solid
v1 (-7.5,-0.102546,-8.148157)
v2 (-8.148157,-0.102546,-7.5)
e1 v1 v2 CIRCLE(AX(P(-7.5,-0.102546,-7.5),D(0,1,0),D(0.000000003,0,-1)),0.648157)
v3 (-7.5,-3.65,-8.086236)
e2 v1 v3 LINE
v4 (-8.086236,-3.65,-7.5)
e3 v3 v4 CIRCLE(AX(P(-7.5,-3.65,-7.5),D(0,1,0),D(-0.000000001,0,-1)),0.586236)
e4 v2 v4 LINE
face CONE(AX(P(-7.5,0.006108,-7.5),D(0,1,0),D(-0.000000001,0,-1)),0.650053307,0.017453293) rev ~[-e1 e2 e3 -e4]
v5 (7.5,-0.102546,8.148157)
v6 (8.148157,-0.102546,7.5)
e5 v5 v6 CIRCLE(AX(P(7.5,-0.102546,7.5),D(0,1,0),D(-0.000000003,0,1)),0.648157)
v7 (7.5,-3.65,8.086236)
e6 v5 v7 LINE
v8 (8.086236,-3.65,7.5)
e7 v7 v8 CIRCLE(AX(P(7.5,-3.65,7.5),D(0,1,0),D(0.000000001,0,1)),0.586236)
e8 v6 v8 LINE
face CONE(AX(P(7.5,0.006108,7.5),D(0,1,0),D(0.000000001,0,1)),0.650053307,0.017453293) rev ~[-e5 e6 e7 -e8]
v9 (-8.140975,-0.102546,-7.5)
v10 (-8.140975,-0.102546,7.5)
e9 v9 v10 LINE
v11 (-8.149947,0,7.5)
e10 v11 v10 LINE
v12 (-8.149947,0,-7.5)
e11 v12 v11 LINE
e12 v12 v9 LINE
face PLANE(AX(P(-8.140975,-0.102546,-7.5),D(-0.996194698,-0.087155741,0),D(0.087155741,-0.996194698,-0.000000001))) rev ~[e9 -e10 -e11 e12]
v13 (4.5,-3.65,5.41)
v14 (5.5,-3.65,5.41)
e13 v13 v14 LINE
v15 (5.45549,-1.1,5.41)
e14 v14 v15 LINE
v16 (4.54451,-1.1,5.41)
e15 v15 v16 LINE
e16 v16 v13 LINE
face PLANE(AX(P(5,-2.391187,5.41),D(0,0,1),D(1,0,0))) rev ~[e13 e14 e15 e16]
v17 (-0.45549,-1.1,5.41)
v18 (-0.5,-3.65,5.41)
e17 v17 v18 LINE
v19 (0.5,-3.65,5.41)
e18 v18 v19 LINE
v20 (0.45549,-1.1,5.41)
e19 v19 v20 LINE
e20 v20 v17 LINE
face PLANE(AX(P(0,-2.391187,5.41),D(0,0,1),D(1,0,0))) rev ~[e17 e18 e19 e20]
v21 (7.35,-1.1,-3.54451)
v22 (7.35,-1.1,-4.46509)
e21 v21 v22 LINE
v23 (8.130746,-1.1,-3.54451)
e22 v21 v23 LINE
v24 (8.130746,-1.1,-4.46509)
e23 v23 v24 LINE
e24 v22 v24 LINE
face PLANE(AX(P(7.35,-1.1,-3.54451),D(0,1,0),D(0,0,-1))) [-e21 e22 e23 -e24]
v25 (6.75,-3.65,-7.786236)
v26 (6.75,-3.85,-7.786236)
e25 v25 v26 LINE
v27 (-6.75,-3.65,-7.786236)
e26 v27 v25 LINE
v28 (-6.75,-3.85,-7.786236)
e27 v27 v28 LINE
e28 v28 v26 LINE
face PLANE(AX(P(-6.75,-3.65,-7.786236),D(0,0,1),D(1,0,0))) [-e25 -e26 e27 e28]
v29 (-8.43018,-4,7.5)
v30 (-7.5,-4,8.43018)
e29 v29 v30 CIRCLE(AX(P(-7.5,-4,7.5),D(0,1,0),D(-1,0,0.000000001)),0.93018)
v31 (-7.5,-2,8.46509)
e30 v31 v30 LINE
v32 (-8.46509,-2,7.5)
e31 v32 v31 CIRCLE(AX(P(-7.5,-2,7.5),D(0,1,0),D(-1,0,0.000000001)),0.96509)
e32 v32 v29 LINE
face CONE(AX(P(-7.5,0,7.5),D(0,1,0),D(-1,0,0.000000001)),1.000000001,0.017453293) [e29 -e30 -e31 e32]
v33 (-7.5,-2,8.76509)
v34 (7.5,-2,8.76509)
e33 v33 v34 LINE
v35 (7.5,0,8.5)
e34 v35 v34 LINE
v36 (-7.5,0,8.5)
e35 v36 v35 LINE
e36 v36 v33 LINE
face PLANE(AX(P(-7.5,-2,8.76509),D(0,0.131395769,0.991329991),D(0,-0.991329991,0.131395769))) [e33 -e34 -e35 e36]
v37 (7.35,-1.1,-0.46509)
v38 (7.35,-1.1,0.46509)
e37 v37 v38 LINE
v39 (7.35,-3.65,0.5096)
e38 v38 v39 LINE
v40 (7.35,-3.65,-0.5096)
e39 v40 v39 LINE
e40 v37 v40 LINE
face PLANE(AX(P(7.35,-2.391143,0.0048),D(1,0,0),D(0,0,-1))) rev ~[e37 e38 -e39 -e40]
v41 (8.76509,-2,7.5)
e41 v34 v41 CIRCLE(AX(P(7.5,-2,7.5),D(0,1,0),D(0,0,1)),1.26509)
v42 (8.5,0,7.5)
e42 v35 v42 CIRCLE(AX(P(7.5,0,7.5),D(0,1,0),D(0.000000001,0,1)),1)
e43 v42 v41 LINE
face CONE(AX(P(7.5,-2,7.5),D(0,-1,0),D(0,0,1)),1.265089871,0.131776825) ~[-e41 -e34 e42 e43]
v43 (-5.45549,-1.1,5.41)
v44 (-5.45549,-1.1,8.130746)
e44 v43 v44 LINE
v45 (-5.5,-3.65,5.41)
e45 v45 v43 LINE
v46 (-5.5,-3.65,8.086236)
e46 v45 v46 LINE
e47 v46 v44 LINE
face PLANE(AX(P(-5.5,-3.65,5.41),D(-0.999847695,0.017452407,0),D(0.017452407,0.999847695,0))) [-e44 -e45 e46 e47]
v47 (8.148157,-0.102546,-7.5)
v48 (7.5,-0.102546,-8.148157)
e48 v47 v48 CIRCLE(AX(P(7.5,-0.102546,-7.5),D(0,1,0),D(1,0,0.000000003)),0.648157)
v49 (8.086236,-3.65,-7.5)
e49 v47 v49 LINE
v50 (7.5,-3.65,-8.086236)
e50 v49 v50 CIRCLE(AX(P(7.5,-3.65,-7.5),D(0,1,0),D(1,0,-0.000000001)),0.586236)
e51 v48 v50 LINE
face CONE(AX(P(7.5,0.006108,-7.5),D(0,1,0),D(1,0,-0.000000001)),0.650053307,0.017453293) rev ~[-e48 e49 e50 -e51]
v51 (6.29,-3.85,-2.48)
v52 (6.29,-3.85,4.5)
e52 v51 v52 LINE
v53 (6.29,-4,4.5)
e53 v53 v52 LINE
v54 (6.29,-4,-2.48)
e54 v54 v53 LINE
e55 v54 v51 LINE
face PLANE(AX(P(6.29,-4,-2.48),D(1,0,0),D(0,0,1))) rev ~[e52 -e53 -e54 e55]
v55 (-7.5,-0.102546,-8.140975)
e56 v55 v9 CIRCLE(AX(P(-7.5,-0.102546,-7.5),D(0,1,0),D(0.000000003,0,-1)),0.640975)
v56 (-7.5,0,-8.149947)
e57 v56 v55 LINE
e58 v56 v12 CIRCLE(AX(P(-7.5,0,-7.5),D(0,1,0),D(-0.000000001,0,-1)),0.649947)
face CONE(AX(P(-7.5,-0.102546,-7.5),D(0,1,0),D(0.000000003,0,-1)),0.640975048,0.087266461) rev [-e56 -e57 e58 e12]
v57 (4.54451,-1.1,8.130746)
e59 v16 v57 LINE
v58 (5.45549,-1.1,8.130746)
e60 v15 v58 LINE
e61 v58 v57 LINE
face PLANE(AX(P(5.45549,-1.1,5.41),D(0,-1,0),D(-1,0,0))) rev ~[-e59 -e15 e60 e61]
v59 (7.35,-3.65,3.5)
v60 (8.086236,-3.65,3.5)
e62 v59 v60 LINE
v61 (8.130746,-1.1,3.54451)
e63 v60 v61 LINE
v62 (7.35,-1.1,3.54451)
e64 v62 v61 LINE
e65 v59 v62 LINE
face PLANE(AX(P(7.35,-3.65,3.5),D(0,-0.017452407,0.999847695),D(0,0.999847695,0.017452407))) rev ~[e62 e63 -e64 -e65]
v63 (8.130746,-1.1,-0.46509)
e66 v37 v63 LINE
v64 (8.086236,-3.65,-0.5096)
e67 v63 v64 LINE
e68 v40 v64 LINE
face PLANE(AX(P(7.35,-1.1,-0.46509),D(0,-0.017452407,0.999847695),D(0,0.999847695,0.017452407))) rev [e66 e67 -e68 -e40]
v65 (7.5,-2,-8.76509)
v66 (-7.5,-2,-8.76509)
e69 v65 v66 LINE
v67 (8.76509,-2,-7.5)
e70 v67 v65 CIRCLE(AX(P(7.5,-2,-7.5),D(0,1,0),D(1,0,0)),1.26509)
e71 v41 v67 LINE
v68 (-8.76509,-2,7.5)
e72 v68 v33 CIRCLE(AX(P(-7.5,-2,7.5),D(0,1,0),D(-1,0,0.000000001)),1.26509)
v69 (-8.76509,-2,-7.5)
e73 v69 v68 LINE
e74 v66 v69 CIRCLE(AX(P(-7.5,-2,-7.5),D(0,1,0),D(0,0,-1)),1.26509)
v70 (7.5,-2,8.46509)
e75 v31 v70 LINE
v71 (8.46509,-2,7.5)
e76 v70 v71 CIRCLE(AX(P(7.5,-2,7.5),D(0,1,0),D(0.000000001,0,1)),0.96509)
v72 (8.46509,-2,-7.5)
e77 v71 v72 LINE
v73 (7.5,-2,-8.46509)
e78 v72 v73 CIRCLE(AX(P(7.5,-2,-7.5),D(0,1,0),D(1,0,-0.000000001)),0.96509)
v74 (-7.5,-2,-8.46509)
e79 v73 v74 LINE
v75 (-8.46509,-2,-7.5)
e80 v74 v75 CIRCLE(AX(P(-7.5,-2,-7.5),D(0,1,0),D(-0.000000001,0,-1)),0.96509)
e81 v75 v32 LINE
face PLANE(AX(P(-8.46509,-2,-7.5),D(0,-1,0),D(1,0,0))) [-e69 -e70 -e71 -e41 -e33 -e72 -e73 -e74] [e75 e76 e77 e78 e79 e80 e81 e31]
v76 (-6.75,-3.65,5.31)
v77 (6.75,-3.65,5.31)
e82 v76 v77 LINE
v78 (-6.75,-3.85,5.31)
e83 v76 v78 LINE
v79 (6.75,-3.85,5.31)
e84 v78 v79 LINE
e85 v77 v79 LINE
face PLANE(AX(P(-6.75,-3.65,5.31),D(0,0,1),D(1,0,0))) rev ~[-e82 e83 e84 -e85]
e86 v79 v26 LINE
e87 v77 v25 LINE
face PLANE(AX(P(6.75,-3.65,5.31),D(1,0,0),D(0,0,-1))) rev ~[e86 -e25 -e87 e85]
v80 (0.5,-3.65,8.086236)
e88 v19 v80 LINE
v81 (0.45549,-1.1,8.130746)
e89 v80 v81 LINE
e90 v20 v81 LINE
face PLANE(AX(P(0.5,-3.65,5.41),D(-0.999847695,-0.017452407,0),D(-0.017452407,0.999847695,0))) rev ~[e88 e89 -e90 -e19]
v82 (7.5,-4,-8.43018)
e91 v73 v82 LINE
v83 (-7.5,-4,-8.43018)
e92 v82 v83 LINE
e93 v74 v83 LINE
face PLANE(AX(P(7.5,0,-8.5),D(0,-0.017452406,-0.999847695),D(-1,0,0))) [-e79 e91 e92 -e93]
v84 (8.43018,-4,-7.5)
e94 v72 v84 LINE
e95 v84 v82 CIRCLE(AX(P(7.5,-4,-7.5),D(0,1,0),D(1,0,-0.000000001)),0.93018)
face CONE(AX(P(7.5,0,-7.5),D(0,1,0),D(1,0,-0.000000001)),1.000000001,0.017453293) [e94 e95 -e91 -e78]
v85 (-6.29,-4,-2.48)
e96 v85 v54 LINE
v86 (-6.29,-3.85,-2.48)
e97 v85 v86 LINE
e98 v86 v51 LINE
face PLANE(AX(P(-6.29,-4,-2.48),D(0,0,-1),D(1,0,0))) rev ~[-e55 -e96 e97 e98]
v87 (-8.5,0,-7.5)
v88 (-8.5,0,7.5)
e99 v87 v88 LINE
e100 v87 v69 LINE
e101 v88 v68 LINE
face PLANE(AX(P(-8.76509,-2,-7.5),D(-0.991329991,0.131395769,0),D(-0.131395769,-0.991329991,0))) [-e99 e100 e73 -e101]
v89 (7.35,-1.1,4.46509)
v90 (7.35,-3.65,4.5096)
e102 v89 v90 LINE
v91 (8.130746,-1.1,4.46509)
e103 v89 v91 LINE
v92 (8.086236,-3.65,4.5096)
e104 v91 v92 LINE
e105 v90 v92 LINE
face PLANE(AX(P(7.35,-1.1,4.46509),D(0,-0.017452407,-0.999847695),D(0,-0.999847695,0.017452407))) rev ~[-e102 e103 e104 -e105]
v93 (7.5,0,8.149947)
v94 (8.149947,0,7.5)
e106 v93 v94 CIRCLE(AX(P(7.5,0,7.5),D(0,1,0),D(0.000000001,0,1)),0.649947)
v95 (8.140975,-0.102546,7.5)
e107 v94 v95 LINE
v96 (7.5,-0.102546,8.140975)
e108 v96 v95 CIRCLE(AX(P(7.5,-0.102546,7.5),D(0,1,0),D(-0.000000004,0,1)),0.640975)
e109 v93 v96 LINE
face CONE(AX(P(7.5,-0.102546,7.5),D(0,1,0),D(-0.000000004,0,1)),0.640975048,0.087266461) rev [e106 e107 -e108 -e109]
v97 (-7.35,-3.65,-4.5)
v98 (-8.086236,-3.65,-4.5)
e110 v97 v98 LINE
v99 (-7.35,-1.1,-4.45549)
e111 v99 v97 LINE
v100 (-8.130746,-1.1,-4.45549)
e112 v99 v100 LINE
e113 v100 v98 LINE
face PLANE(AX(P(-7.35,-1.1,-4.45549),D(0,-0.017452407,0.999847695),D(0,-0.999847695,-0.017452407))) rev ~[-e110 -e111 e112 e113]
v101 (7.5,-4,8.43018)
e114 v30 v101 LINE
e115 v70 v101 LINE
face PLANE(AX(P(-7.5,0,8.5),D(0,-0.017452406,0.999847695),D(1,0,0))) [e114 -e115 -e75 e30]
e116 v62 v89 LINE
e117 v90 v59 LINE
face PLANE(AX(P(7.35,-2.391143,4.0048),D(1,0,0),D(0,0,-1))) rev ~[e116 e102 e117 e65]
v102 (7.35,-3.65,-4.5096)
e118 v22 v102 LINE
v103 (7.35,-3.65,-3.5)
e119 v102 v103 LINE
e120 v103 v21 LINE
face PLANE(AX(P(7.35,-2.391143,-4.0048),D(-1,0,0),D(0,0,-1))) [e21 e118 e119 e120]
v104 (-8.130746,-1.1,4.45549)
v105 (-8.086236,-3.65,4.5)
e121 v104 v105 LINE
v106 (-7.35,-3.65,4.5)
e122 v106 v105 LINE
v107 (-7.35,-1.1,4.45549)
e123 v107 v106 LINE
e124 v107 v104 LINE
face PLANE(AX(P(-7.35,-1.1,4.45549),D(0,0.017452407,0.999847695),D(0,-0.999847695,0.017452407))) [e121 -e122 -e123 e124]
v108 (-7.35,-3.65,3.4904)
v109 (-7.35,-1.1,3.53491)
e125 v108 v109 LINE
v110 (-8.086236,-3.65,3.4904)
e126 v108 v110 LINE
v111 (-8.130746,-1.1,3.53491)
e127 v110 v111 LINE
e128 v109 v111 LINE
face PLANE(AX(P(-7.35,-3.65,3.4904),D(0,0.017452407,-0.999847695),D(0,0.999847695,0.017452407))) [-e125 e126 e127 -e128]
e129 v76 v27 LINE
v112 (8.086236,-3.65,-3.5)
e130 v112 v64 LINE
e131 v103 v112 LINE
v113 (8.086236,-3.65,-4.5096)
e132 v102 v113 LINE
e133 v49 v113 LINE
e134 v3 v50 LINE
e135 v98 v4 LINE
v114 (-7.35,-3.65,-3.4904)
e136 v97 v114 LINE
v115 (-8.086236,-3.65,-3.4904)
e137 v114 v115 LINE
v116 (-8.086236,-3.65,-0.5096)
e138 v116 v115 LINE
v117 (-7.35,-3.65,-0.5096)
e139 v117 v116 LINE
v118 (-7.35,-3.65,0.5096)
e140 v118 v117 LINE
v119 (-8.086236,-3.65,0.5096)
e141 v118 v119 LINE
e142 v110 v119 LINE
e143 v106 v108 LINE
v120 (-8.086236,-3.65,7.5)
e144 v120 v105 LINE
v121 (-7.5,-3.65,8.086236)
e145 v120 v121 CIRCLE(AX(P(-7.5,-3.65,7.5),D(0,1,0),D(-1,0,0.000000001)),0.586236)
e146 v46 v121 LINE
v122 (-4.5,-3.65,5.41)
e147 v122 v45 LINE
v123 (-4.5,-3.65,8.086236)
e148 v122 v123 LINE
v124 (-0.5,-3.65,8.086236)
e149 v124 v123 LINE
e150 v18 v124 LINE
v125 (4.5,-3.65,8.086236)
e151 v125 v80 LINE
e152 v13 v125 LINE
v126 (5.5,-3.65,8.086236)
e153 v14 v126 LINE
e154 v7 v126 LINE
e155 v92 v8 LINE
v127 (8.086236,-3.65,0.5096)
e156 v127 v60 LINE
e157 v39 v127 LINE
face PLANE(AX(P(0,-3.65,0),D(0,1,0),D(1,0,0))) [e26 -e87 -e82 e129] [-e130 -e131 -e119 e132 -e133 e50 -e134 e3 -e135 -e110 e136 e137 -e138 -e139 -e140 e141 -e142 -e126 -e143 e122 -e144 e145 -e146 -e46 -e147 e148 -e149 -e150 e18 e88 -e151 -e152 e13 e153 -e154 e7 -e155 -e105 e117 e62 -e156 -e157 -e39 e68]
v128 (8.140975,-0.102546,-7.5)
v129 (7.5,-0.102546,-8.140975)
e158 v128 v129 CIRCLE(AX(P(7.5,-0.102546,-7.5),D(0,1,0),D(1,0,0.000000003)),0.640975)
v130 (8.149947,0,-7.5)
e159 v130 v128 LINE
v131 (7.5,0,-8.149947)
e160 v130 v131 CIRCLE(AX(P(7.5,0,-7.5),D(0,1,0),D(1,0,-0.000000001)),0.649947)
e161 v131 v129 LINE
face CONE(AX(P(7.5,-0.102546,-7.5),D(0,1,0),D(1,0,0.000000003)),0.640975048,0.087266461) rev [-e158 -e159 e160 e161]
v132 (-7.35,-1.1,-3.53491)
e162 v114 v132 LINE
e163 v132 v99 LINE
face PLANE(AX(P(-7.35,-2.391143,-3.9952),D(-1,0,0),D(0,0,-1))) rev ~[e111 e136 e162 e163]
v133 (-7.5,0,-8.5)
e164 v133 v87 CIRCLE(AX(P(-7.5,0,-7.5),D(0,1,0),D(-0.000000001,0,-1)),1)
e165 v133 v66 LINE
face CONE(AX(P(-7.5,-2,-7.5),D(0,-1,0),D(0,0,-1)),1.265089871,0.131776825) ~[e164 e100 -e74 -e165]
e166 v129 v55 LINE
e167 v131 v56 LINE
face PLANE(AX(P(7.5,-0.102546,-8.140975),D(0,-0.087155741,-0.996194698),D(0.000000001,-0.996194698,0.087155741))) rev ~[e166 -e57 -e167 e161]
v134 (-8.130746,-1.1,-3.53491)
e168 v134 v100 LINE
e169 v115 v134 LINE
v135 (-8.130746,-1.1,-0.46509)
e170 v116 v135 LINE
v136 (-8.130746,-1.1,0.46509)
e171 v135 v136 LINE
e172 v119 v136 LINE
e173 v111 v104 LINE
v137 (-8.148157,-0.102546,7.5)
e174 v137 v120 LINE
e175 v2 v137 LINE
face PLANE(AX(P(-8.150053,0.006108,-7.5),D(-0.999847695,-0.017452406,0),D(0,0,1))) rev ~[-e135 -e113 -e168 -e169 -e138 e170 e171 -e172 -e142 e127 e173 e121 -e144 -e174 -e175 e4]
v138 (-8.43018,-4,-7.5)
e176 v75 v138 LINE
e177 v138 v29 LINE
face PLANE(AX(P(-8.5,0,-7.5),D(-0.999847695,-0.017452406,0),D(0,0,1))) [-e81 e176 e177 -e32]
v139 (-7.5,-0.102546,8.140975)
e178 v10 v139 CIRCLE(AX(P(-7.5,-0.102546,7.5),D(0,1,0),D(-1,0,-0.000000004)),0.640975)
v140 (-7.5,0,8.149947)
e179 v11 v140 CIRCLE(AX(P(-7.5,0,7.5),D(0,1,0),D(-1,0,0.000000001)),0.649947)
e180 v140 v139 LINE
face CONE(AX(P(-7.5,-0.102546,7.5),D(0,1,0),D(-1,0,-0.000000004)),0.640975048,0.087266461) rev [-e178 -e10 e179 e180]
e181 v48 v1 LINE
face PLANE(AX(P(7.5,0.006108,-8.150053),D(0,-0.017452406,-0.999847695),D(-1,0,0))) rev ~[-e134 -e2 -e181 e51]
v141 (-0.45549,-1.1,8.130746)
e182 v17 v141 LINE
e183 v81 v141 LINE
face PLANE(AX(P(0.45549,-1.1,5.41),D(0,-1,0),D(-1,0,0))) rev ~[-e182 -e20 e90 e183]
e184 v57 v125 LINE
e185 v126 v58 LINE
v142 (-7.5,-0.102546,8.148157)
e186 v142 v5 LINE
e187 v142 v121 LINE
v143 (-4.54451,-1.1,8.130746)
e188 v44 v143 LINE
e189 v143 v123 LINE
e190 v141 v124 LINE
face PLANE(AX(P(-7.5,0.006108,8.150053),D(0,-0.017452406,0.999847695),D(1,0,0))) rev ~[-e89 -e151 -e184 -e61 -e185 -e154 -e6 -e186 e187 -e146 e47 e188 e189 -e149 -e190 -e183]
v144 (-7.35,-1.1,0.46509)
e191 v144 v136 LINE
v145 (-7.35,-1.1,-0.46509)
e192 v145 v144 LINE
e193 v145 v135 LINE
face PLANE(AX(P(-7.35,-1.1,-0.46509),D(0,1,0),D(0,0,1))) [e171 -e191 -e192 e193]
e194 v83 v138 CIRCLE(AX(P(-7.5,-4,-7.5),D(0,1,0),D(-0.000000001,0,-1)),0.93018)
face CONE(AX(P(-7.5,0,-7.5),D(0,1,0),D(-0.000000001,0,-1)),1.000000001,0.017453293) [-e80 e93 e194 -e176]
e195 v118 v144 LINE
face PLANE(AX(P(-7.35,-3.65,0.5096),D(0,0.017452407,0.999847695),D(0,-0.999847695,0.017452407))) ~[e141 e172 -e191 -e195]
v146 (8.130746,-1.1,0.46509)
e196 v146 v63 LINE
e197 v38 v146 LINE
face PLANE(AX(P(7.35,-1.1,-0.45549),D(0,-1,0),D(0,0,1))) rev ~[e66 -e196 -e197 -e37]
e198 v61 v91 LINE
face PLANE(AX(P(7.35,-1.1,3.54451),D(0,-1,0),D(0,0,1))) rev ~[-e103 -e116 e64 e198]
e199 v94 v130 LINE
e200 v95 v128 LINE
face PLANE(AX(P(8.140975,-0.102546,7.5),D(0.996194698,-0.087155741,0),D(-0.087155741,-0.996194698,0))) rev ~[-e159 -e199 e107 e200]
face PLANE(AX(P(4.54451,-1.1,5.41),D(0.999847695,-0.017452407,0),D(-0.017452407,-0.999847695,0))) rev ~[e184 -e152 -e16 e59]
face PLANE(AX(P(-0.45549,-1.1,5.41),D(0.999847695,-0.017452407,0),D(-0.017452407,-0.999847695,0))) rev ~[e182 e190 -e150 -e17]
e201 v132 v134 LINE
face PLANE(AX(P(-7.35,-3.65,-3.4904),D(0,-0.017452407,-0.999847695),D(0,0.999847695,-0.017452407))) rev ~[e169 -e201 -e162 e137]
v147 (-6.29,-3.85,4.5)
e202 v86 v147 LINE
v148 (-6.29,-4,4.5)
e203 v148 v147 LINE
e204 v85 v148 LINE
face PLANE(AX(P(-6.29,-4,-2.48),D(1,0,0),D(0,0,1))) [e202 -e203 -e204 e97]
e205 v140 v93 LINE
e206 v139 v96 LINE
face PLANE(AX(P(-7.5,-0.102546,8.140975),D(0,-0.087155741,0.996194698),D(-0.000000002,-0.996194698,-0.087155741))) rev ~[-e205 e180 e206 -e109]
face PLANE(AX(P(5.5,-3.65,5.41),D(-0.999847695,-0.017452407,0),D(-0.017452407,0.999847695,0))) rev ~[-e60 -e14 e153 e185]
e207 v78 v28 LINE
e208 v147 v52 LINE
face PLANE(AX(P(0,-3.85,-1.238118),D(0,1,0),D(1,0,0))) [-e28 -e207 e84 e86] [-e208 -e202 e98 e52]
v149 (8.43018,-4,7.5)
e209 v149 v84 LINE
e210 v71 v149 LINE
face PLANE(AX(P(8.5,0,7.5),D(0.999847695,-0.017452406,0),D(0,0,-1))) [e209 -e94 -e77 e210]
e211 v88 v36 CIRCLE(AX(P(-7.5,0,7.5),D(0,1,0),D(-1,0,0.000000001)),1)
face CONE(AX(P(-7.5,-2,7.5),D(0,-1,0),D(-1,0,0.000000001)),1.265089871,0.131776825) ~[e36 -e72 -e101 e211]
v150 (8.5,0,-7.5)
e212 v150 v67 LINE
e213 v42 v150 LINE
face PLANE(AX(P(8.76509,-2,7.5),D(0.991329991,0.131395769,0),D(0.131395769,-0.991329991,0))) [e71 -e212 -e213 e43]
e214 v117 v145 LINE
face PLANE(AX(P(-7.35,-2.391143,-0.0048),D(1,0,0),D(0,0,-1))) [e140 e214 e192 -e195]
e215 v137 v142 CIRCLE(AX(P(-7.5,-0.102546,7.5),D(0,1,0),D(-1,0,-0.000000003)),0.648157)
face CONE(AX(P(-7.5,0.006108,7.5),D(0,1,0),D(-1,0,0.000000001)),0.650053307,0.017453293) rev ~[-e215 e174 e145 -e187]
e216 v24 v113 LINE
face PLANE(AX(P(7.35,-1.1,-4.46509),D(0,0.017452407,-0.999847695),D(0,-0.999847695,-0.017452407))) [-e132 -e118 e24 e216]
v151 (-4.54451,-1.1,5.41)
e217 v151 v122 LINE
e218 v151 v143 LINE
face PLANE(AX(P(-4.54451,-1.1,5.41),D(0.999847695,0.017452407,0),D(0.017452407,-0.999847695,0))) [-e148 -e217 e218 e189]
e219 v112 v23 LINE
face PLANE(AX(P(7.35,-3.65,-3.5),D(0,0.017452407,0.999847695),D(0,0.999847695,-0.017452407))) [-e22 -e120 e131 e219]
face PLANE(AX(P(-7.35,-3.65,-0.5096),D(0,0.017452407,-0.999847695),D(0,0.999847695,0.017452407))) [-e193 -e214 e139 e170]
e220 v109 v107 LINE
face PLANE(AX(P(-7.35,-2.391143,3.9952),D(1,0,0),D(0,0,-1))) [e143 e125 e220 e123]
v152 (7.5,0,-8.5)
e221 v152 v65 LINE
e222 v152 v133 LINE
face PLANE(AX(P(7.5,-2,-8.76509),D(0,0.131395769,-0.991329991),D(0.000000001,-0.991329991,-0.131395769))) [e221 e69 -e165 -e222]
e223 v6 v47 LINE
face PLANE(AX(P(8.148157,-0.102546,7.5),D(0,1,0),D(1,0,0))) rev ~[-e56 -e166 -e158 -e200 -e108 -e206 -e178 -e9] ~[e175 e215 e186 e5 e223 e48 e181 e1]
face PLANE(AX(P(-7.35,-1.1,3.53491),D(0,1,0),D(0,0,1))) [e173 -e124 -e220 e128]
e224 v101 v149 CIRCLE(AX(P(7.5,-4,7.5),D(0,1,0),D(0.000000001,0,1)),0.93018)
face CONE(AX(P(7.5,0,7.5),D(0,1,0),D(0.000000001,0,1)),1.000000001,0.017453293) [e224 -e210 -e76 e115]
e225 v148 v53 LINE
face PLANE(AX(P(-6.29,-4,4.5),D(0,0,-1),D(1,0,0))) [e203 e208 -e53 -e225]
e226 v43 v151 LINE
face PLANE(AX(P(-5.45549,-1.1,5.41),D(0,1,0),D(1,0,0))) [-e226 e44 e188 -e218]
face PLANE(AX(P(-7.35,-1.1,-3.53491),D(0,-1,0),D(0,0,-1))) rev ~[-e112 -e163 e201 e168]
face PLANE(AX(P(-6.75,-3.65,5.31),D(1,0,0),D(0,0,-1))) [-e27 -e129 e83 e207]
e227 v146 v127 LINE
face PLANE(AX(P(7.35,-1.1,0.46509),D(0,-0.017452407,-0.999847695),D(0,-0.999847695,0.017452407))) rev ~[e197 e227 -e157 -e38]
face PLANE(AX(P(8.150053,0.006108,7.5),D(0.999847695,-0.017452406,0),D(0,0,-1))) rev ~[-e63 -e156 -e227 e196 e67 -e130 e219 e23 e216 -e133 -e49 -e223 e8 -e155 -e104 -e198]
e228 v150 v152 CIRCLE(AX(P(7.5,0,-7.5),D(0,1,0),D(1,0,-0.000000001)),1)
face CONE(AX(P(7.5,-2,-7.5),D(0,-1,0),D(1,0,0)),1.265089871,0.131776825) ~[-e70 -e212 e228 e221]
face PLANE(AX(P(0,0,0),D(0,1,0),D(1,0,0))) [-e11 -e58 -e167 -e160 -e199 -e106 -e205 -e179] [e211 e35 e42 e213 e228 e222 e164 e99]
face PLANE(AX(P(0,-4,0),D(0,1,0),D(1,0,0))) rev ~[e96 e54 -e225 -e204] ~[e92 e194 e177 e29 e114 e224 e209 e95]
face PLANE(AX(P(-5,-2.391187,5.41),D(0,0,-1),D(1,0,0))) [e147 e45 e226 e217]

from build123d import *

# Parameters (mm, degrees)
BOSS_EXTRUDE1_DEPTH  = 4
BOSS_EXTRUDE1_DRAFT  = -1
SHELL1_T             = -0.35
SKETCH2_W            = 12.58
SKETCH2_H            = 6.98
CUT_EXTRUDE1_DEPTH   = 2
SKETCH3_W            = 13.5
SKETCH3_H            = 13.096235698
CUT_EXTRUDE2_DEPTH   = 0.2
BOSS_EXTRUDE3_REACH  = 20.425
BOSS_EXTRUDE4_REACH  = 20.425
LPATTERN2_COUNT      = 2
LPATTERN2_PITCH      = 4
MIRROR4_COPY_1_REACH = 20.425
LPATTERN3_COUNT      = 2
LPATTERN3_PITCH      = 4
MIRROR5_COPY_1_REACH = 20.425
BOSS_EXTRUDE5_REACH  = 18.785
LPATTERN4_COUNT      = 2
LPATTERN4_PITCH      = 5
MIRROR6_COPY_1_REACH = 18.785
MIRROR6_COPY_2_REACH = 18.785


with BuildPart() as part:
    # Sketch1 → Boss-Extrude1 (with draft: the straight prism first)
    with BuildSketch(Plane(origin=(0, 0, 0), x_dir=(1, 0, 0), z_dir=(0, 1, 0))):
        with BuildLine():
            Line((-7.5, -8.5), (7.5, -8.5))
            ThreePointArc((7.5, -8.5), (8.207106781, -8.207106781), (8.5, -7.5))
            Line((8.5, -7.5), (8.5, 7.5))
            ThreePointArc((8.5, 7.5), (8.207106781, 8.207106781), (7.5, 8.5))
            Line((7.5, 8.5), (-7.5, 8.5))
            ThreePointArc((-7.5, 8.5), (-8.207106781, 8.207106781), (-8.5, 7.5))
            Line((-8.5, 7.5), (-8.5, -7.5))
            ThreePointArc((-8.5, -7.5), (-8.207106781, -8.207106781), (-7.5, -8.5))
        make_face()
    extrude(amount=-BOSS_EXTRUDE1_DEPTH)
    # Boss-Extrude1: the draft: its side faces are tilted about the plane it starts from
    boss_extrude1_sides = [part.faces().sort_by_distance(p)[0] for p in [
        (0, -2, 8.5),
        (8.207106781, -2, 8.207106781),
        (8.5, -2, 0),
        (8.207106781, -2, -8.207106781),
        (0, -2, -8.5),
        (-8.207106781, -2, -8.207106781),
        (-8.5, -2, 0),
        (-8.207106781, -2, 8.207106781),
    ]]
    draft(boss_extrude1_sides, Plane(origin=(0, 0, 0), x_dir=(1, 0, 0), z_dir=(0, 1, 0)), BOSS_EXTRUDE1_DRAFT)

    # Shell1
    shell1_openings = [part.faces().sort_by_distance(p)[0] for p in [
        (0, 0, 0),
    ]]
    offset(amount=SHELL1_T, openings=shell1_openings, kind=Kind.INTERSECTION)

    # Sketch2 → Cut-Extrude1 (cut)
    with BuildSketch(Plane.XZ.offset(4)):
        with Locations((0, 1.01)):
            Rectangle(SKETCH2_W, SKETCH2_H)
    extrude(amount=-CUT_EXTRUDE1_DEPTH, mode=Mode.SUBTRACT)

    # Sketch3 → Cut-Extrude2 (cut)
    with BuildSketch(Plane(origin=(0, -3.65, 0), x_dir=(1, 0, 0), z_dir=(0, 1, 0))):
        with Locations((0, 1.238117849)):
            Rectangle(SKETCH3_W, SKETCH3_H)
    extrude(amount=-CUT_EXTRUDE2_DEPTH, mode=Mode.SUBTRACT)

    # Boss-Extrude3: up to this plane
    boss_extrude3_end = Plane(origin=(8.150053307, 0.006108342, 7.5), z_dir=(0.9998476951563913, -0.01745240643728355, 0))
    # Sketch11 → Boss-Extrude3 (add, up to the surface)
    with BuildSketch(Plane.ZY.offset(-7.35), mode=Mode.PRIVATE) as boss_extrude3_sk1:
        Polygon((-0.455489584, -1.1), (0.46508987, -1.1), (0.509600286, -3.65), (-0.5, -3.65), align=None)
    boss_extrude3_tool1 = split(extrude(boss_extrude3_sk1.sketch, amount=-BOSS_EXTRUDE3_REACH, mode=Mode.PRIVATE), bisect_by=boss_extrude3_end, keep=Keep.BOTH, mode=Mode.PRIVATE)
    boss_extrude3 = boss_extrude3_tool1.solids().sort_by_distance((7.35, -2.394601, 0.0048))[0]
    add(boss_extrude3)

    # Boss-Extrude4: up to this plane
    boss_extrude4_end = Plane(origin=(-8.150053307, 0.006108342, 7.5), z_dir=(-0.9998476951563913, -0.01745240643728355, 0))
    # Sketch13 → Boss-Extrude4 (add, up to the surface)
    with BuildSketch(Plane(origin=(-7.35, 0, 0), x_dir=(0, 0, -1), z_dir=(1, 0, 0)), mode=Mode.PRIVATE) as boss_extrude4_sk1:
        Polygon((-0.5, -3.65), (0.509600286, -3.65), (0.46508987, -1.1), (-0.455489584, -1.1), align=None)
    boss_extrude4_tool1 = split(extrude(boss_extrude4_sk1.sketch, amount=-BOSS_EXTRUDE4_REACH, mode=Mode.PRIVATE), bisect_by=boss_extrude4_end, keep=Keep.BOTH, mode=Mode.PRIVATE)
    boss_extrude4 = boss_extrude4_tool1.solids().sort_by_distance((-7.35, -2.394601, -0.0048))[0]
    add(boss_extrude4)

    # LPattern2: Boss-Extrude3 ×2
    with Locations(*[(0, 0, i * LPATTERN2_PITCH) for i in range(1, LPATTERN2_COUNT)]):
        add(boss_extrude3)

    # Mirror4: Boss-Extrude3 across plane
    add(boss_extrude3.mirror(Plane.XY))

    # Mirror4 copy 1: up to this plane
    mirror4_copy_1_end = Plane(origin=(8.150053307, 0.006108342, 7.5), z_dir=(0.9998476951563913, -0.01745240643728355, 0))
    # Mirror4 copy 1 sketch → Mirror4 copy 1 (add, up to the surface)
    with BuildSketch(Plane(origin=(7.35, 0, -4), x_dir=(0, 0, -1), z_dir=(-1, 0, 0)), mode=Mode.PRIVATE) as mirror4_copy_1_sk1:
        Polygon((-0.455489584, 1.1), (0.46508987, 1.1), (0.509600286, 3.65), (-0.5, 3.65), align=None)
    mirror4_copy_1_tool1 = split(extrude(mirror4_copy_1_sk1.sketch, amount=-MIRROR4_COPY_1_REACH, mode=Mode.PRIVATE), bisect_by=mirror4_copy_1_end, keep=Keep.BOTH, mode=Mode.PRIVATE)
    add(mirror4_copy_1_tool1.solids().sort_by_distance((7.35, -2.394601, 0.0048))[0])

    # LPattern3: Boss-Extrude4 ×2
    with Locations(*[(0, 0, i * LPATTERN3_PITCH) for i in range(1, LPATTERN3_COUNT)]):
        add(boss_extrude4)

    # Mirror5: Boss-Extrude4 across plane
    add(boss_extrude4.mirror(Plane.XY))

    # Mirror5 copy 1: up to this plane
    mirror5_copy_1_end = Plane(origin=(-8.150053307, 0.006108342, 7.5), z_dir=(-0.9998476951563913, -0.01745240643728355, 0))
    # Mirror5 copy 1 sketch → Mirror5 copy 1 (add, up to the surface)
    with BuildSketch(Plane(origin=(-7.35, 0, -4), x_dir=(0, 0, 1), z_dir=(1, 0, 0)), mode=Mode.PRIVATE) as mirror5_copy_1_sk1:
        Polygon((-0.5, 3.65), (0.509600286, 3.65), (0.46508987, 1.1), (-0.455489584, 1.1), align=None)
    mirror5_copy_1_tool1 = split(extrude(mirror5_copy_1_sk1.sketch, amount=-MIRROR5_COPY_1_REACH, mode=Mode.PRIVATE), bisect_by=mirror5_copy_1_end, keep=Keep.BOTH, mode=Mode.PRIVATE)
    add(mirror5_copy_1_tool1.solids().sort_by_distance((-7.35, -2.394601, -0.0048))[0])

    # Boss-Extrude5: up to this plane
    boss_extrude5_end = Plane(origin=(-7.5, 0.006108342, 8.150053307), z_dir=(0, -0.017452406437283553, 0.9998476951563913))
    # Sketch16 → Boss-Extrude5 (add, up to the surface)
    with BuildSketch(Plane.XY.offset(5.41), mode=Mode.PRIVATE) as boss_extrude5_sk1:
        Polygon((-0.5, -3.65), (0.5, -3.65), (0.455489584, -1.1), (-0.455489584, -1.1), align=None)
    boss_extrude5_tool1 = split(extrude(boss_extrude5_sk1.sketch, amount=BOSS_EXTRUDE5_REACH, mode=Mode.PRIVATE), bisect_by=boss_extrude5_end, keep=Keep.BOTH, mode=Mode.PRIVATE)
    boss_extrude5 = boss_extrude5_tool1.solids().sort_by_distance((0, -2.394798, 5.41))[0]
    add(boss_extrude5)

    # LPattern4: Boss-Extrude5 ×2
    with Locations(*[(i * LPATTERN4_PITCH, 0, 0) for i in range(1, LPATTERN4_COUNT)]):
        add(boss_extrude5)

    # Mirror6 copy 1: up to this plane
    mirror6_copy_1_end = Plane(origin=(-7.5, 0.006108342, 8.150053307), z_dir=(0, -0.017452406437283553, 0.9998476951563913))
    # Mirror6 copy 1 sketch → Mirror6 copy 1 (add, up to the surface)
    with BuildSketch(Plane(origin=(-5, 0, 5.41), x_dir=(-1, 0, 0), z_dir=(0, 0, 1)), mode=Mode.PRIVATE) as mirror6_copy_1_sk1:
        Polygon((-0.5, 3.65), (0.5, 3.65), (0.455489584, 1.1), (-0.455489584, 1.1), align=None)
    mirror6_copy_1_tool1 = split(extrude(mirror6_copy_1_sk1.sketch, amount=MIRROR6_COPY_1_REACH, mode=Mode.PRIVATE), bisect_by=mirror6_copy_1_end, keep=Keep.BOTH, mode=Mode.PRIVATE)
    add(mirror6_copy_1_tool1.solids().sort_by_distance((0, -2.394798, 5.41))[0])

    # Mirror6 copy 2: up to this plane
    mirror6_copy_2_end = Plane(origin=(-7.5, 0.006108342, 8.150053307), z_dir=(0, -0.017452406437283553, 0.9998476951563913))
    # Mirror6 copy 2 sketch → Mirror6 copy 2 (add, up to the surface)
    with BuildSketch(Plane(origin=(0, 0, 5.41), x_dir=(-1, 0, 0), z_dir=(0, 0, 1)), mode=Mode.PRIVATE) as mirror6_copy_2_sk1:
        Polygon((-0.5, 3.65), (0.5, 3.65), (0.455489584, 1.1), (-0.455489584, 1.1), align=None)
    mirror6_copy_2_tool1 = split(extrude(mirror6_copy_2_sk1.sketch, amount=MIRROR6_COPY_2_REACH, mode=Mode.PRIVATE), bisect_by=mirror6_copy_2_end, keep=Keep.BOTH, mode=Mode.PRIVATE)
    add(mirror6_copy_2_tool1.solids().sort_by_distance((0, -2.394798, 5.41))[0])

    # Sweep1: sweep along a path in Sketch18
    with BuildLine(Plane(origin=(0, -2, 0), x_dir=(-1, 0, 0), z_dir=(0, -1, 0))) as sweep1_path:
        Line((8.5, 7.5), (8.5, -7.5))
        ThreePointArc((8.5, -7.5), (8.207106781, -8.207106781), (7.5, -8.5))
        Line((7.5, -8.5), (-7.5, -8.5))
        ThreePointArc((-7.5, -8.5), (-8.207106781, -8.207106781), (-8.5, -7.5))
        Line((-8.5, -7.5), (-8.5, 7.5))
        ThreePointArc((-8.5, 7.5), (-8.207106781, 8.207106781), (-7.5, 8.5))
        Line((-7.5, 8.5), (7.5, 8.5))
        ThreePointArc((7.5, 8.5), (8.207106781, 8.207106781), (8.5, 7.5))
    # Sketch17 → Sweep1 (sweep)
    with BuildSketch(Plane.XY):
        Polygon((-8.5, 0), (-8.46508987, -2), (-8.76508987, -2), align=None)
    sweep(path=sweep1_path.line)

    # Sweep2: sweep along a path in Sketch23
    with BuildLine(Plane(origin=(0, 0, 0), x_dir=(1, 0, 0), z_dir=(0, 1, 0))) as sweep2_path:
        Line((8.149946685, -7.5), (8.149946685, 7.5))
        ThreePointArc((8.149946685, 7.5), (7.959581709, 7.959581709), (7.5, 8.149946685))
        Line((7.5, 8.149946685), (-7.5, 8.149946685))
        ThreePointArc((-7.5, 8.149946685), (-7.959581709, 7.959581709), (-8.149946685, 7.5))
        Line((-8.149946685, 7.5), (-8.149946685, -7.5))
        ThreePointArc((-8.149946685, -7.5), (-7.959581709, -7.959581709), (-7.5, -8.149946685))
        Line((-7.5, -8.149946685), (7.5, -8.149946685))
        ThreePointArc((7.5, -8.149946685), (7.959581709, -7.959581709), (8.149946685, -7.5))
    # Sketch19 → Sweep2 (sweep)
    with BuildSketch(Plane.XY):
        Polygon((8.149946685, 0), (8.148156734, -0.102546259), (8.14097505, -0.102546259), align=None)
    sweep(path=sweep2_path.line)


solid = part.part
